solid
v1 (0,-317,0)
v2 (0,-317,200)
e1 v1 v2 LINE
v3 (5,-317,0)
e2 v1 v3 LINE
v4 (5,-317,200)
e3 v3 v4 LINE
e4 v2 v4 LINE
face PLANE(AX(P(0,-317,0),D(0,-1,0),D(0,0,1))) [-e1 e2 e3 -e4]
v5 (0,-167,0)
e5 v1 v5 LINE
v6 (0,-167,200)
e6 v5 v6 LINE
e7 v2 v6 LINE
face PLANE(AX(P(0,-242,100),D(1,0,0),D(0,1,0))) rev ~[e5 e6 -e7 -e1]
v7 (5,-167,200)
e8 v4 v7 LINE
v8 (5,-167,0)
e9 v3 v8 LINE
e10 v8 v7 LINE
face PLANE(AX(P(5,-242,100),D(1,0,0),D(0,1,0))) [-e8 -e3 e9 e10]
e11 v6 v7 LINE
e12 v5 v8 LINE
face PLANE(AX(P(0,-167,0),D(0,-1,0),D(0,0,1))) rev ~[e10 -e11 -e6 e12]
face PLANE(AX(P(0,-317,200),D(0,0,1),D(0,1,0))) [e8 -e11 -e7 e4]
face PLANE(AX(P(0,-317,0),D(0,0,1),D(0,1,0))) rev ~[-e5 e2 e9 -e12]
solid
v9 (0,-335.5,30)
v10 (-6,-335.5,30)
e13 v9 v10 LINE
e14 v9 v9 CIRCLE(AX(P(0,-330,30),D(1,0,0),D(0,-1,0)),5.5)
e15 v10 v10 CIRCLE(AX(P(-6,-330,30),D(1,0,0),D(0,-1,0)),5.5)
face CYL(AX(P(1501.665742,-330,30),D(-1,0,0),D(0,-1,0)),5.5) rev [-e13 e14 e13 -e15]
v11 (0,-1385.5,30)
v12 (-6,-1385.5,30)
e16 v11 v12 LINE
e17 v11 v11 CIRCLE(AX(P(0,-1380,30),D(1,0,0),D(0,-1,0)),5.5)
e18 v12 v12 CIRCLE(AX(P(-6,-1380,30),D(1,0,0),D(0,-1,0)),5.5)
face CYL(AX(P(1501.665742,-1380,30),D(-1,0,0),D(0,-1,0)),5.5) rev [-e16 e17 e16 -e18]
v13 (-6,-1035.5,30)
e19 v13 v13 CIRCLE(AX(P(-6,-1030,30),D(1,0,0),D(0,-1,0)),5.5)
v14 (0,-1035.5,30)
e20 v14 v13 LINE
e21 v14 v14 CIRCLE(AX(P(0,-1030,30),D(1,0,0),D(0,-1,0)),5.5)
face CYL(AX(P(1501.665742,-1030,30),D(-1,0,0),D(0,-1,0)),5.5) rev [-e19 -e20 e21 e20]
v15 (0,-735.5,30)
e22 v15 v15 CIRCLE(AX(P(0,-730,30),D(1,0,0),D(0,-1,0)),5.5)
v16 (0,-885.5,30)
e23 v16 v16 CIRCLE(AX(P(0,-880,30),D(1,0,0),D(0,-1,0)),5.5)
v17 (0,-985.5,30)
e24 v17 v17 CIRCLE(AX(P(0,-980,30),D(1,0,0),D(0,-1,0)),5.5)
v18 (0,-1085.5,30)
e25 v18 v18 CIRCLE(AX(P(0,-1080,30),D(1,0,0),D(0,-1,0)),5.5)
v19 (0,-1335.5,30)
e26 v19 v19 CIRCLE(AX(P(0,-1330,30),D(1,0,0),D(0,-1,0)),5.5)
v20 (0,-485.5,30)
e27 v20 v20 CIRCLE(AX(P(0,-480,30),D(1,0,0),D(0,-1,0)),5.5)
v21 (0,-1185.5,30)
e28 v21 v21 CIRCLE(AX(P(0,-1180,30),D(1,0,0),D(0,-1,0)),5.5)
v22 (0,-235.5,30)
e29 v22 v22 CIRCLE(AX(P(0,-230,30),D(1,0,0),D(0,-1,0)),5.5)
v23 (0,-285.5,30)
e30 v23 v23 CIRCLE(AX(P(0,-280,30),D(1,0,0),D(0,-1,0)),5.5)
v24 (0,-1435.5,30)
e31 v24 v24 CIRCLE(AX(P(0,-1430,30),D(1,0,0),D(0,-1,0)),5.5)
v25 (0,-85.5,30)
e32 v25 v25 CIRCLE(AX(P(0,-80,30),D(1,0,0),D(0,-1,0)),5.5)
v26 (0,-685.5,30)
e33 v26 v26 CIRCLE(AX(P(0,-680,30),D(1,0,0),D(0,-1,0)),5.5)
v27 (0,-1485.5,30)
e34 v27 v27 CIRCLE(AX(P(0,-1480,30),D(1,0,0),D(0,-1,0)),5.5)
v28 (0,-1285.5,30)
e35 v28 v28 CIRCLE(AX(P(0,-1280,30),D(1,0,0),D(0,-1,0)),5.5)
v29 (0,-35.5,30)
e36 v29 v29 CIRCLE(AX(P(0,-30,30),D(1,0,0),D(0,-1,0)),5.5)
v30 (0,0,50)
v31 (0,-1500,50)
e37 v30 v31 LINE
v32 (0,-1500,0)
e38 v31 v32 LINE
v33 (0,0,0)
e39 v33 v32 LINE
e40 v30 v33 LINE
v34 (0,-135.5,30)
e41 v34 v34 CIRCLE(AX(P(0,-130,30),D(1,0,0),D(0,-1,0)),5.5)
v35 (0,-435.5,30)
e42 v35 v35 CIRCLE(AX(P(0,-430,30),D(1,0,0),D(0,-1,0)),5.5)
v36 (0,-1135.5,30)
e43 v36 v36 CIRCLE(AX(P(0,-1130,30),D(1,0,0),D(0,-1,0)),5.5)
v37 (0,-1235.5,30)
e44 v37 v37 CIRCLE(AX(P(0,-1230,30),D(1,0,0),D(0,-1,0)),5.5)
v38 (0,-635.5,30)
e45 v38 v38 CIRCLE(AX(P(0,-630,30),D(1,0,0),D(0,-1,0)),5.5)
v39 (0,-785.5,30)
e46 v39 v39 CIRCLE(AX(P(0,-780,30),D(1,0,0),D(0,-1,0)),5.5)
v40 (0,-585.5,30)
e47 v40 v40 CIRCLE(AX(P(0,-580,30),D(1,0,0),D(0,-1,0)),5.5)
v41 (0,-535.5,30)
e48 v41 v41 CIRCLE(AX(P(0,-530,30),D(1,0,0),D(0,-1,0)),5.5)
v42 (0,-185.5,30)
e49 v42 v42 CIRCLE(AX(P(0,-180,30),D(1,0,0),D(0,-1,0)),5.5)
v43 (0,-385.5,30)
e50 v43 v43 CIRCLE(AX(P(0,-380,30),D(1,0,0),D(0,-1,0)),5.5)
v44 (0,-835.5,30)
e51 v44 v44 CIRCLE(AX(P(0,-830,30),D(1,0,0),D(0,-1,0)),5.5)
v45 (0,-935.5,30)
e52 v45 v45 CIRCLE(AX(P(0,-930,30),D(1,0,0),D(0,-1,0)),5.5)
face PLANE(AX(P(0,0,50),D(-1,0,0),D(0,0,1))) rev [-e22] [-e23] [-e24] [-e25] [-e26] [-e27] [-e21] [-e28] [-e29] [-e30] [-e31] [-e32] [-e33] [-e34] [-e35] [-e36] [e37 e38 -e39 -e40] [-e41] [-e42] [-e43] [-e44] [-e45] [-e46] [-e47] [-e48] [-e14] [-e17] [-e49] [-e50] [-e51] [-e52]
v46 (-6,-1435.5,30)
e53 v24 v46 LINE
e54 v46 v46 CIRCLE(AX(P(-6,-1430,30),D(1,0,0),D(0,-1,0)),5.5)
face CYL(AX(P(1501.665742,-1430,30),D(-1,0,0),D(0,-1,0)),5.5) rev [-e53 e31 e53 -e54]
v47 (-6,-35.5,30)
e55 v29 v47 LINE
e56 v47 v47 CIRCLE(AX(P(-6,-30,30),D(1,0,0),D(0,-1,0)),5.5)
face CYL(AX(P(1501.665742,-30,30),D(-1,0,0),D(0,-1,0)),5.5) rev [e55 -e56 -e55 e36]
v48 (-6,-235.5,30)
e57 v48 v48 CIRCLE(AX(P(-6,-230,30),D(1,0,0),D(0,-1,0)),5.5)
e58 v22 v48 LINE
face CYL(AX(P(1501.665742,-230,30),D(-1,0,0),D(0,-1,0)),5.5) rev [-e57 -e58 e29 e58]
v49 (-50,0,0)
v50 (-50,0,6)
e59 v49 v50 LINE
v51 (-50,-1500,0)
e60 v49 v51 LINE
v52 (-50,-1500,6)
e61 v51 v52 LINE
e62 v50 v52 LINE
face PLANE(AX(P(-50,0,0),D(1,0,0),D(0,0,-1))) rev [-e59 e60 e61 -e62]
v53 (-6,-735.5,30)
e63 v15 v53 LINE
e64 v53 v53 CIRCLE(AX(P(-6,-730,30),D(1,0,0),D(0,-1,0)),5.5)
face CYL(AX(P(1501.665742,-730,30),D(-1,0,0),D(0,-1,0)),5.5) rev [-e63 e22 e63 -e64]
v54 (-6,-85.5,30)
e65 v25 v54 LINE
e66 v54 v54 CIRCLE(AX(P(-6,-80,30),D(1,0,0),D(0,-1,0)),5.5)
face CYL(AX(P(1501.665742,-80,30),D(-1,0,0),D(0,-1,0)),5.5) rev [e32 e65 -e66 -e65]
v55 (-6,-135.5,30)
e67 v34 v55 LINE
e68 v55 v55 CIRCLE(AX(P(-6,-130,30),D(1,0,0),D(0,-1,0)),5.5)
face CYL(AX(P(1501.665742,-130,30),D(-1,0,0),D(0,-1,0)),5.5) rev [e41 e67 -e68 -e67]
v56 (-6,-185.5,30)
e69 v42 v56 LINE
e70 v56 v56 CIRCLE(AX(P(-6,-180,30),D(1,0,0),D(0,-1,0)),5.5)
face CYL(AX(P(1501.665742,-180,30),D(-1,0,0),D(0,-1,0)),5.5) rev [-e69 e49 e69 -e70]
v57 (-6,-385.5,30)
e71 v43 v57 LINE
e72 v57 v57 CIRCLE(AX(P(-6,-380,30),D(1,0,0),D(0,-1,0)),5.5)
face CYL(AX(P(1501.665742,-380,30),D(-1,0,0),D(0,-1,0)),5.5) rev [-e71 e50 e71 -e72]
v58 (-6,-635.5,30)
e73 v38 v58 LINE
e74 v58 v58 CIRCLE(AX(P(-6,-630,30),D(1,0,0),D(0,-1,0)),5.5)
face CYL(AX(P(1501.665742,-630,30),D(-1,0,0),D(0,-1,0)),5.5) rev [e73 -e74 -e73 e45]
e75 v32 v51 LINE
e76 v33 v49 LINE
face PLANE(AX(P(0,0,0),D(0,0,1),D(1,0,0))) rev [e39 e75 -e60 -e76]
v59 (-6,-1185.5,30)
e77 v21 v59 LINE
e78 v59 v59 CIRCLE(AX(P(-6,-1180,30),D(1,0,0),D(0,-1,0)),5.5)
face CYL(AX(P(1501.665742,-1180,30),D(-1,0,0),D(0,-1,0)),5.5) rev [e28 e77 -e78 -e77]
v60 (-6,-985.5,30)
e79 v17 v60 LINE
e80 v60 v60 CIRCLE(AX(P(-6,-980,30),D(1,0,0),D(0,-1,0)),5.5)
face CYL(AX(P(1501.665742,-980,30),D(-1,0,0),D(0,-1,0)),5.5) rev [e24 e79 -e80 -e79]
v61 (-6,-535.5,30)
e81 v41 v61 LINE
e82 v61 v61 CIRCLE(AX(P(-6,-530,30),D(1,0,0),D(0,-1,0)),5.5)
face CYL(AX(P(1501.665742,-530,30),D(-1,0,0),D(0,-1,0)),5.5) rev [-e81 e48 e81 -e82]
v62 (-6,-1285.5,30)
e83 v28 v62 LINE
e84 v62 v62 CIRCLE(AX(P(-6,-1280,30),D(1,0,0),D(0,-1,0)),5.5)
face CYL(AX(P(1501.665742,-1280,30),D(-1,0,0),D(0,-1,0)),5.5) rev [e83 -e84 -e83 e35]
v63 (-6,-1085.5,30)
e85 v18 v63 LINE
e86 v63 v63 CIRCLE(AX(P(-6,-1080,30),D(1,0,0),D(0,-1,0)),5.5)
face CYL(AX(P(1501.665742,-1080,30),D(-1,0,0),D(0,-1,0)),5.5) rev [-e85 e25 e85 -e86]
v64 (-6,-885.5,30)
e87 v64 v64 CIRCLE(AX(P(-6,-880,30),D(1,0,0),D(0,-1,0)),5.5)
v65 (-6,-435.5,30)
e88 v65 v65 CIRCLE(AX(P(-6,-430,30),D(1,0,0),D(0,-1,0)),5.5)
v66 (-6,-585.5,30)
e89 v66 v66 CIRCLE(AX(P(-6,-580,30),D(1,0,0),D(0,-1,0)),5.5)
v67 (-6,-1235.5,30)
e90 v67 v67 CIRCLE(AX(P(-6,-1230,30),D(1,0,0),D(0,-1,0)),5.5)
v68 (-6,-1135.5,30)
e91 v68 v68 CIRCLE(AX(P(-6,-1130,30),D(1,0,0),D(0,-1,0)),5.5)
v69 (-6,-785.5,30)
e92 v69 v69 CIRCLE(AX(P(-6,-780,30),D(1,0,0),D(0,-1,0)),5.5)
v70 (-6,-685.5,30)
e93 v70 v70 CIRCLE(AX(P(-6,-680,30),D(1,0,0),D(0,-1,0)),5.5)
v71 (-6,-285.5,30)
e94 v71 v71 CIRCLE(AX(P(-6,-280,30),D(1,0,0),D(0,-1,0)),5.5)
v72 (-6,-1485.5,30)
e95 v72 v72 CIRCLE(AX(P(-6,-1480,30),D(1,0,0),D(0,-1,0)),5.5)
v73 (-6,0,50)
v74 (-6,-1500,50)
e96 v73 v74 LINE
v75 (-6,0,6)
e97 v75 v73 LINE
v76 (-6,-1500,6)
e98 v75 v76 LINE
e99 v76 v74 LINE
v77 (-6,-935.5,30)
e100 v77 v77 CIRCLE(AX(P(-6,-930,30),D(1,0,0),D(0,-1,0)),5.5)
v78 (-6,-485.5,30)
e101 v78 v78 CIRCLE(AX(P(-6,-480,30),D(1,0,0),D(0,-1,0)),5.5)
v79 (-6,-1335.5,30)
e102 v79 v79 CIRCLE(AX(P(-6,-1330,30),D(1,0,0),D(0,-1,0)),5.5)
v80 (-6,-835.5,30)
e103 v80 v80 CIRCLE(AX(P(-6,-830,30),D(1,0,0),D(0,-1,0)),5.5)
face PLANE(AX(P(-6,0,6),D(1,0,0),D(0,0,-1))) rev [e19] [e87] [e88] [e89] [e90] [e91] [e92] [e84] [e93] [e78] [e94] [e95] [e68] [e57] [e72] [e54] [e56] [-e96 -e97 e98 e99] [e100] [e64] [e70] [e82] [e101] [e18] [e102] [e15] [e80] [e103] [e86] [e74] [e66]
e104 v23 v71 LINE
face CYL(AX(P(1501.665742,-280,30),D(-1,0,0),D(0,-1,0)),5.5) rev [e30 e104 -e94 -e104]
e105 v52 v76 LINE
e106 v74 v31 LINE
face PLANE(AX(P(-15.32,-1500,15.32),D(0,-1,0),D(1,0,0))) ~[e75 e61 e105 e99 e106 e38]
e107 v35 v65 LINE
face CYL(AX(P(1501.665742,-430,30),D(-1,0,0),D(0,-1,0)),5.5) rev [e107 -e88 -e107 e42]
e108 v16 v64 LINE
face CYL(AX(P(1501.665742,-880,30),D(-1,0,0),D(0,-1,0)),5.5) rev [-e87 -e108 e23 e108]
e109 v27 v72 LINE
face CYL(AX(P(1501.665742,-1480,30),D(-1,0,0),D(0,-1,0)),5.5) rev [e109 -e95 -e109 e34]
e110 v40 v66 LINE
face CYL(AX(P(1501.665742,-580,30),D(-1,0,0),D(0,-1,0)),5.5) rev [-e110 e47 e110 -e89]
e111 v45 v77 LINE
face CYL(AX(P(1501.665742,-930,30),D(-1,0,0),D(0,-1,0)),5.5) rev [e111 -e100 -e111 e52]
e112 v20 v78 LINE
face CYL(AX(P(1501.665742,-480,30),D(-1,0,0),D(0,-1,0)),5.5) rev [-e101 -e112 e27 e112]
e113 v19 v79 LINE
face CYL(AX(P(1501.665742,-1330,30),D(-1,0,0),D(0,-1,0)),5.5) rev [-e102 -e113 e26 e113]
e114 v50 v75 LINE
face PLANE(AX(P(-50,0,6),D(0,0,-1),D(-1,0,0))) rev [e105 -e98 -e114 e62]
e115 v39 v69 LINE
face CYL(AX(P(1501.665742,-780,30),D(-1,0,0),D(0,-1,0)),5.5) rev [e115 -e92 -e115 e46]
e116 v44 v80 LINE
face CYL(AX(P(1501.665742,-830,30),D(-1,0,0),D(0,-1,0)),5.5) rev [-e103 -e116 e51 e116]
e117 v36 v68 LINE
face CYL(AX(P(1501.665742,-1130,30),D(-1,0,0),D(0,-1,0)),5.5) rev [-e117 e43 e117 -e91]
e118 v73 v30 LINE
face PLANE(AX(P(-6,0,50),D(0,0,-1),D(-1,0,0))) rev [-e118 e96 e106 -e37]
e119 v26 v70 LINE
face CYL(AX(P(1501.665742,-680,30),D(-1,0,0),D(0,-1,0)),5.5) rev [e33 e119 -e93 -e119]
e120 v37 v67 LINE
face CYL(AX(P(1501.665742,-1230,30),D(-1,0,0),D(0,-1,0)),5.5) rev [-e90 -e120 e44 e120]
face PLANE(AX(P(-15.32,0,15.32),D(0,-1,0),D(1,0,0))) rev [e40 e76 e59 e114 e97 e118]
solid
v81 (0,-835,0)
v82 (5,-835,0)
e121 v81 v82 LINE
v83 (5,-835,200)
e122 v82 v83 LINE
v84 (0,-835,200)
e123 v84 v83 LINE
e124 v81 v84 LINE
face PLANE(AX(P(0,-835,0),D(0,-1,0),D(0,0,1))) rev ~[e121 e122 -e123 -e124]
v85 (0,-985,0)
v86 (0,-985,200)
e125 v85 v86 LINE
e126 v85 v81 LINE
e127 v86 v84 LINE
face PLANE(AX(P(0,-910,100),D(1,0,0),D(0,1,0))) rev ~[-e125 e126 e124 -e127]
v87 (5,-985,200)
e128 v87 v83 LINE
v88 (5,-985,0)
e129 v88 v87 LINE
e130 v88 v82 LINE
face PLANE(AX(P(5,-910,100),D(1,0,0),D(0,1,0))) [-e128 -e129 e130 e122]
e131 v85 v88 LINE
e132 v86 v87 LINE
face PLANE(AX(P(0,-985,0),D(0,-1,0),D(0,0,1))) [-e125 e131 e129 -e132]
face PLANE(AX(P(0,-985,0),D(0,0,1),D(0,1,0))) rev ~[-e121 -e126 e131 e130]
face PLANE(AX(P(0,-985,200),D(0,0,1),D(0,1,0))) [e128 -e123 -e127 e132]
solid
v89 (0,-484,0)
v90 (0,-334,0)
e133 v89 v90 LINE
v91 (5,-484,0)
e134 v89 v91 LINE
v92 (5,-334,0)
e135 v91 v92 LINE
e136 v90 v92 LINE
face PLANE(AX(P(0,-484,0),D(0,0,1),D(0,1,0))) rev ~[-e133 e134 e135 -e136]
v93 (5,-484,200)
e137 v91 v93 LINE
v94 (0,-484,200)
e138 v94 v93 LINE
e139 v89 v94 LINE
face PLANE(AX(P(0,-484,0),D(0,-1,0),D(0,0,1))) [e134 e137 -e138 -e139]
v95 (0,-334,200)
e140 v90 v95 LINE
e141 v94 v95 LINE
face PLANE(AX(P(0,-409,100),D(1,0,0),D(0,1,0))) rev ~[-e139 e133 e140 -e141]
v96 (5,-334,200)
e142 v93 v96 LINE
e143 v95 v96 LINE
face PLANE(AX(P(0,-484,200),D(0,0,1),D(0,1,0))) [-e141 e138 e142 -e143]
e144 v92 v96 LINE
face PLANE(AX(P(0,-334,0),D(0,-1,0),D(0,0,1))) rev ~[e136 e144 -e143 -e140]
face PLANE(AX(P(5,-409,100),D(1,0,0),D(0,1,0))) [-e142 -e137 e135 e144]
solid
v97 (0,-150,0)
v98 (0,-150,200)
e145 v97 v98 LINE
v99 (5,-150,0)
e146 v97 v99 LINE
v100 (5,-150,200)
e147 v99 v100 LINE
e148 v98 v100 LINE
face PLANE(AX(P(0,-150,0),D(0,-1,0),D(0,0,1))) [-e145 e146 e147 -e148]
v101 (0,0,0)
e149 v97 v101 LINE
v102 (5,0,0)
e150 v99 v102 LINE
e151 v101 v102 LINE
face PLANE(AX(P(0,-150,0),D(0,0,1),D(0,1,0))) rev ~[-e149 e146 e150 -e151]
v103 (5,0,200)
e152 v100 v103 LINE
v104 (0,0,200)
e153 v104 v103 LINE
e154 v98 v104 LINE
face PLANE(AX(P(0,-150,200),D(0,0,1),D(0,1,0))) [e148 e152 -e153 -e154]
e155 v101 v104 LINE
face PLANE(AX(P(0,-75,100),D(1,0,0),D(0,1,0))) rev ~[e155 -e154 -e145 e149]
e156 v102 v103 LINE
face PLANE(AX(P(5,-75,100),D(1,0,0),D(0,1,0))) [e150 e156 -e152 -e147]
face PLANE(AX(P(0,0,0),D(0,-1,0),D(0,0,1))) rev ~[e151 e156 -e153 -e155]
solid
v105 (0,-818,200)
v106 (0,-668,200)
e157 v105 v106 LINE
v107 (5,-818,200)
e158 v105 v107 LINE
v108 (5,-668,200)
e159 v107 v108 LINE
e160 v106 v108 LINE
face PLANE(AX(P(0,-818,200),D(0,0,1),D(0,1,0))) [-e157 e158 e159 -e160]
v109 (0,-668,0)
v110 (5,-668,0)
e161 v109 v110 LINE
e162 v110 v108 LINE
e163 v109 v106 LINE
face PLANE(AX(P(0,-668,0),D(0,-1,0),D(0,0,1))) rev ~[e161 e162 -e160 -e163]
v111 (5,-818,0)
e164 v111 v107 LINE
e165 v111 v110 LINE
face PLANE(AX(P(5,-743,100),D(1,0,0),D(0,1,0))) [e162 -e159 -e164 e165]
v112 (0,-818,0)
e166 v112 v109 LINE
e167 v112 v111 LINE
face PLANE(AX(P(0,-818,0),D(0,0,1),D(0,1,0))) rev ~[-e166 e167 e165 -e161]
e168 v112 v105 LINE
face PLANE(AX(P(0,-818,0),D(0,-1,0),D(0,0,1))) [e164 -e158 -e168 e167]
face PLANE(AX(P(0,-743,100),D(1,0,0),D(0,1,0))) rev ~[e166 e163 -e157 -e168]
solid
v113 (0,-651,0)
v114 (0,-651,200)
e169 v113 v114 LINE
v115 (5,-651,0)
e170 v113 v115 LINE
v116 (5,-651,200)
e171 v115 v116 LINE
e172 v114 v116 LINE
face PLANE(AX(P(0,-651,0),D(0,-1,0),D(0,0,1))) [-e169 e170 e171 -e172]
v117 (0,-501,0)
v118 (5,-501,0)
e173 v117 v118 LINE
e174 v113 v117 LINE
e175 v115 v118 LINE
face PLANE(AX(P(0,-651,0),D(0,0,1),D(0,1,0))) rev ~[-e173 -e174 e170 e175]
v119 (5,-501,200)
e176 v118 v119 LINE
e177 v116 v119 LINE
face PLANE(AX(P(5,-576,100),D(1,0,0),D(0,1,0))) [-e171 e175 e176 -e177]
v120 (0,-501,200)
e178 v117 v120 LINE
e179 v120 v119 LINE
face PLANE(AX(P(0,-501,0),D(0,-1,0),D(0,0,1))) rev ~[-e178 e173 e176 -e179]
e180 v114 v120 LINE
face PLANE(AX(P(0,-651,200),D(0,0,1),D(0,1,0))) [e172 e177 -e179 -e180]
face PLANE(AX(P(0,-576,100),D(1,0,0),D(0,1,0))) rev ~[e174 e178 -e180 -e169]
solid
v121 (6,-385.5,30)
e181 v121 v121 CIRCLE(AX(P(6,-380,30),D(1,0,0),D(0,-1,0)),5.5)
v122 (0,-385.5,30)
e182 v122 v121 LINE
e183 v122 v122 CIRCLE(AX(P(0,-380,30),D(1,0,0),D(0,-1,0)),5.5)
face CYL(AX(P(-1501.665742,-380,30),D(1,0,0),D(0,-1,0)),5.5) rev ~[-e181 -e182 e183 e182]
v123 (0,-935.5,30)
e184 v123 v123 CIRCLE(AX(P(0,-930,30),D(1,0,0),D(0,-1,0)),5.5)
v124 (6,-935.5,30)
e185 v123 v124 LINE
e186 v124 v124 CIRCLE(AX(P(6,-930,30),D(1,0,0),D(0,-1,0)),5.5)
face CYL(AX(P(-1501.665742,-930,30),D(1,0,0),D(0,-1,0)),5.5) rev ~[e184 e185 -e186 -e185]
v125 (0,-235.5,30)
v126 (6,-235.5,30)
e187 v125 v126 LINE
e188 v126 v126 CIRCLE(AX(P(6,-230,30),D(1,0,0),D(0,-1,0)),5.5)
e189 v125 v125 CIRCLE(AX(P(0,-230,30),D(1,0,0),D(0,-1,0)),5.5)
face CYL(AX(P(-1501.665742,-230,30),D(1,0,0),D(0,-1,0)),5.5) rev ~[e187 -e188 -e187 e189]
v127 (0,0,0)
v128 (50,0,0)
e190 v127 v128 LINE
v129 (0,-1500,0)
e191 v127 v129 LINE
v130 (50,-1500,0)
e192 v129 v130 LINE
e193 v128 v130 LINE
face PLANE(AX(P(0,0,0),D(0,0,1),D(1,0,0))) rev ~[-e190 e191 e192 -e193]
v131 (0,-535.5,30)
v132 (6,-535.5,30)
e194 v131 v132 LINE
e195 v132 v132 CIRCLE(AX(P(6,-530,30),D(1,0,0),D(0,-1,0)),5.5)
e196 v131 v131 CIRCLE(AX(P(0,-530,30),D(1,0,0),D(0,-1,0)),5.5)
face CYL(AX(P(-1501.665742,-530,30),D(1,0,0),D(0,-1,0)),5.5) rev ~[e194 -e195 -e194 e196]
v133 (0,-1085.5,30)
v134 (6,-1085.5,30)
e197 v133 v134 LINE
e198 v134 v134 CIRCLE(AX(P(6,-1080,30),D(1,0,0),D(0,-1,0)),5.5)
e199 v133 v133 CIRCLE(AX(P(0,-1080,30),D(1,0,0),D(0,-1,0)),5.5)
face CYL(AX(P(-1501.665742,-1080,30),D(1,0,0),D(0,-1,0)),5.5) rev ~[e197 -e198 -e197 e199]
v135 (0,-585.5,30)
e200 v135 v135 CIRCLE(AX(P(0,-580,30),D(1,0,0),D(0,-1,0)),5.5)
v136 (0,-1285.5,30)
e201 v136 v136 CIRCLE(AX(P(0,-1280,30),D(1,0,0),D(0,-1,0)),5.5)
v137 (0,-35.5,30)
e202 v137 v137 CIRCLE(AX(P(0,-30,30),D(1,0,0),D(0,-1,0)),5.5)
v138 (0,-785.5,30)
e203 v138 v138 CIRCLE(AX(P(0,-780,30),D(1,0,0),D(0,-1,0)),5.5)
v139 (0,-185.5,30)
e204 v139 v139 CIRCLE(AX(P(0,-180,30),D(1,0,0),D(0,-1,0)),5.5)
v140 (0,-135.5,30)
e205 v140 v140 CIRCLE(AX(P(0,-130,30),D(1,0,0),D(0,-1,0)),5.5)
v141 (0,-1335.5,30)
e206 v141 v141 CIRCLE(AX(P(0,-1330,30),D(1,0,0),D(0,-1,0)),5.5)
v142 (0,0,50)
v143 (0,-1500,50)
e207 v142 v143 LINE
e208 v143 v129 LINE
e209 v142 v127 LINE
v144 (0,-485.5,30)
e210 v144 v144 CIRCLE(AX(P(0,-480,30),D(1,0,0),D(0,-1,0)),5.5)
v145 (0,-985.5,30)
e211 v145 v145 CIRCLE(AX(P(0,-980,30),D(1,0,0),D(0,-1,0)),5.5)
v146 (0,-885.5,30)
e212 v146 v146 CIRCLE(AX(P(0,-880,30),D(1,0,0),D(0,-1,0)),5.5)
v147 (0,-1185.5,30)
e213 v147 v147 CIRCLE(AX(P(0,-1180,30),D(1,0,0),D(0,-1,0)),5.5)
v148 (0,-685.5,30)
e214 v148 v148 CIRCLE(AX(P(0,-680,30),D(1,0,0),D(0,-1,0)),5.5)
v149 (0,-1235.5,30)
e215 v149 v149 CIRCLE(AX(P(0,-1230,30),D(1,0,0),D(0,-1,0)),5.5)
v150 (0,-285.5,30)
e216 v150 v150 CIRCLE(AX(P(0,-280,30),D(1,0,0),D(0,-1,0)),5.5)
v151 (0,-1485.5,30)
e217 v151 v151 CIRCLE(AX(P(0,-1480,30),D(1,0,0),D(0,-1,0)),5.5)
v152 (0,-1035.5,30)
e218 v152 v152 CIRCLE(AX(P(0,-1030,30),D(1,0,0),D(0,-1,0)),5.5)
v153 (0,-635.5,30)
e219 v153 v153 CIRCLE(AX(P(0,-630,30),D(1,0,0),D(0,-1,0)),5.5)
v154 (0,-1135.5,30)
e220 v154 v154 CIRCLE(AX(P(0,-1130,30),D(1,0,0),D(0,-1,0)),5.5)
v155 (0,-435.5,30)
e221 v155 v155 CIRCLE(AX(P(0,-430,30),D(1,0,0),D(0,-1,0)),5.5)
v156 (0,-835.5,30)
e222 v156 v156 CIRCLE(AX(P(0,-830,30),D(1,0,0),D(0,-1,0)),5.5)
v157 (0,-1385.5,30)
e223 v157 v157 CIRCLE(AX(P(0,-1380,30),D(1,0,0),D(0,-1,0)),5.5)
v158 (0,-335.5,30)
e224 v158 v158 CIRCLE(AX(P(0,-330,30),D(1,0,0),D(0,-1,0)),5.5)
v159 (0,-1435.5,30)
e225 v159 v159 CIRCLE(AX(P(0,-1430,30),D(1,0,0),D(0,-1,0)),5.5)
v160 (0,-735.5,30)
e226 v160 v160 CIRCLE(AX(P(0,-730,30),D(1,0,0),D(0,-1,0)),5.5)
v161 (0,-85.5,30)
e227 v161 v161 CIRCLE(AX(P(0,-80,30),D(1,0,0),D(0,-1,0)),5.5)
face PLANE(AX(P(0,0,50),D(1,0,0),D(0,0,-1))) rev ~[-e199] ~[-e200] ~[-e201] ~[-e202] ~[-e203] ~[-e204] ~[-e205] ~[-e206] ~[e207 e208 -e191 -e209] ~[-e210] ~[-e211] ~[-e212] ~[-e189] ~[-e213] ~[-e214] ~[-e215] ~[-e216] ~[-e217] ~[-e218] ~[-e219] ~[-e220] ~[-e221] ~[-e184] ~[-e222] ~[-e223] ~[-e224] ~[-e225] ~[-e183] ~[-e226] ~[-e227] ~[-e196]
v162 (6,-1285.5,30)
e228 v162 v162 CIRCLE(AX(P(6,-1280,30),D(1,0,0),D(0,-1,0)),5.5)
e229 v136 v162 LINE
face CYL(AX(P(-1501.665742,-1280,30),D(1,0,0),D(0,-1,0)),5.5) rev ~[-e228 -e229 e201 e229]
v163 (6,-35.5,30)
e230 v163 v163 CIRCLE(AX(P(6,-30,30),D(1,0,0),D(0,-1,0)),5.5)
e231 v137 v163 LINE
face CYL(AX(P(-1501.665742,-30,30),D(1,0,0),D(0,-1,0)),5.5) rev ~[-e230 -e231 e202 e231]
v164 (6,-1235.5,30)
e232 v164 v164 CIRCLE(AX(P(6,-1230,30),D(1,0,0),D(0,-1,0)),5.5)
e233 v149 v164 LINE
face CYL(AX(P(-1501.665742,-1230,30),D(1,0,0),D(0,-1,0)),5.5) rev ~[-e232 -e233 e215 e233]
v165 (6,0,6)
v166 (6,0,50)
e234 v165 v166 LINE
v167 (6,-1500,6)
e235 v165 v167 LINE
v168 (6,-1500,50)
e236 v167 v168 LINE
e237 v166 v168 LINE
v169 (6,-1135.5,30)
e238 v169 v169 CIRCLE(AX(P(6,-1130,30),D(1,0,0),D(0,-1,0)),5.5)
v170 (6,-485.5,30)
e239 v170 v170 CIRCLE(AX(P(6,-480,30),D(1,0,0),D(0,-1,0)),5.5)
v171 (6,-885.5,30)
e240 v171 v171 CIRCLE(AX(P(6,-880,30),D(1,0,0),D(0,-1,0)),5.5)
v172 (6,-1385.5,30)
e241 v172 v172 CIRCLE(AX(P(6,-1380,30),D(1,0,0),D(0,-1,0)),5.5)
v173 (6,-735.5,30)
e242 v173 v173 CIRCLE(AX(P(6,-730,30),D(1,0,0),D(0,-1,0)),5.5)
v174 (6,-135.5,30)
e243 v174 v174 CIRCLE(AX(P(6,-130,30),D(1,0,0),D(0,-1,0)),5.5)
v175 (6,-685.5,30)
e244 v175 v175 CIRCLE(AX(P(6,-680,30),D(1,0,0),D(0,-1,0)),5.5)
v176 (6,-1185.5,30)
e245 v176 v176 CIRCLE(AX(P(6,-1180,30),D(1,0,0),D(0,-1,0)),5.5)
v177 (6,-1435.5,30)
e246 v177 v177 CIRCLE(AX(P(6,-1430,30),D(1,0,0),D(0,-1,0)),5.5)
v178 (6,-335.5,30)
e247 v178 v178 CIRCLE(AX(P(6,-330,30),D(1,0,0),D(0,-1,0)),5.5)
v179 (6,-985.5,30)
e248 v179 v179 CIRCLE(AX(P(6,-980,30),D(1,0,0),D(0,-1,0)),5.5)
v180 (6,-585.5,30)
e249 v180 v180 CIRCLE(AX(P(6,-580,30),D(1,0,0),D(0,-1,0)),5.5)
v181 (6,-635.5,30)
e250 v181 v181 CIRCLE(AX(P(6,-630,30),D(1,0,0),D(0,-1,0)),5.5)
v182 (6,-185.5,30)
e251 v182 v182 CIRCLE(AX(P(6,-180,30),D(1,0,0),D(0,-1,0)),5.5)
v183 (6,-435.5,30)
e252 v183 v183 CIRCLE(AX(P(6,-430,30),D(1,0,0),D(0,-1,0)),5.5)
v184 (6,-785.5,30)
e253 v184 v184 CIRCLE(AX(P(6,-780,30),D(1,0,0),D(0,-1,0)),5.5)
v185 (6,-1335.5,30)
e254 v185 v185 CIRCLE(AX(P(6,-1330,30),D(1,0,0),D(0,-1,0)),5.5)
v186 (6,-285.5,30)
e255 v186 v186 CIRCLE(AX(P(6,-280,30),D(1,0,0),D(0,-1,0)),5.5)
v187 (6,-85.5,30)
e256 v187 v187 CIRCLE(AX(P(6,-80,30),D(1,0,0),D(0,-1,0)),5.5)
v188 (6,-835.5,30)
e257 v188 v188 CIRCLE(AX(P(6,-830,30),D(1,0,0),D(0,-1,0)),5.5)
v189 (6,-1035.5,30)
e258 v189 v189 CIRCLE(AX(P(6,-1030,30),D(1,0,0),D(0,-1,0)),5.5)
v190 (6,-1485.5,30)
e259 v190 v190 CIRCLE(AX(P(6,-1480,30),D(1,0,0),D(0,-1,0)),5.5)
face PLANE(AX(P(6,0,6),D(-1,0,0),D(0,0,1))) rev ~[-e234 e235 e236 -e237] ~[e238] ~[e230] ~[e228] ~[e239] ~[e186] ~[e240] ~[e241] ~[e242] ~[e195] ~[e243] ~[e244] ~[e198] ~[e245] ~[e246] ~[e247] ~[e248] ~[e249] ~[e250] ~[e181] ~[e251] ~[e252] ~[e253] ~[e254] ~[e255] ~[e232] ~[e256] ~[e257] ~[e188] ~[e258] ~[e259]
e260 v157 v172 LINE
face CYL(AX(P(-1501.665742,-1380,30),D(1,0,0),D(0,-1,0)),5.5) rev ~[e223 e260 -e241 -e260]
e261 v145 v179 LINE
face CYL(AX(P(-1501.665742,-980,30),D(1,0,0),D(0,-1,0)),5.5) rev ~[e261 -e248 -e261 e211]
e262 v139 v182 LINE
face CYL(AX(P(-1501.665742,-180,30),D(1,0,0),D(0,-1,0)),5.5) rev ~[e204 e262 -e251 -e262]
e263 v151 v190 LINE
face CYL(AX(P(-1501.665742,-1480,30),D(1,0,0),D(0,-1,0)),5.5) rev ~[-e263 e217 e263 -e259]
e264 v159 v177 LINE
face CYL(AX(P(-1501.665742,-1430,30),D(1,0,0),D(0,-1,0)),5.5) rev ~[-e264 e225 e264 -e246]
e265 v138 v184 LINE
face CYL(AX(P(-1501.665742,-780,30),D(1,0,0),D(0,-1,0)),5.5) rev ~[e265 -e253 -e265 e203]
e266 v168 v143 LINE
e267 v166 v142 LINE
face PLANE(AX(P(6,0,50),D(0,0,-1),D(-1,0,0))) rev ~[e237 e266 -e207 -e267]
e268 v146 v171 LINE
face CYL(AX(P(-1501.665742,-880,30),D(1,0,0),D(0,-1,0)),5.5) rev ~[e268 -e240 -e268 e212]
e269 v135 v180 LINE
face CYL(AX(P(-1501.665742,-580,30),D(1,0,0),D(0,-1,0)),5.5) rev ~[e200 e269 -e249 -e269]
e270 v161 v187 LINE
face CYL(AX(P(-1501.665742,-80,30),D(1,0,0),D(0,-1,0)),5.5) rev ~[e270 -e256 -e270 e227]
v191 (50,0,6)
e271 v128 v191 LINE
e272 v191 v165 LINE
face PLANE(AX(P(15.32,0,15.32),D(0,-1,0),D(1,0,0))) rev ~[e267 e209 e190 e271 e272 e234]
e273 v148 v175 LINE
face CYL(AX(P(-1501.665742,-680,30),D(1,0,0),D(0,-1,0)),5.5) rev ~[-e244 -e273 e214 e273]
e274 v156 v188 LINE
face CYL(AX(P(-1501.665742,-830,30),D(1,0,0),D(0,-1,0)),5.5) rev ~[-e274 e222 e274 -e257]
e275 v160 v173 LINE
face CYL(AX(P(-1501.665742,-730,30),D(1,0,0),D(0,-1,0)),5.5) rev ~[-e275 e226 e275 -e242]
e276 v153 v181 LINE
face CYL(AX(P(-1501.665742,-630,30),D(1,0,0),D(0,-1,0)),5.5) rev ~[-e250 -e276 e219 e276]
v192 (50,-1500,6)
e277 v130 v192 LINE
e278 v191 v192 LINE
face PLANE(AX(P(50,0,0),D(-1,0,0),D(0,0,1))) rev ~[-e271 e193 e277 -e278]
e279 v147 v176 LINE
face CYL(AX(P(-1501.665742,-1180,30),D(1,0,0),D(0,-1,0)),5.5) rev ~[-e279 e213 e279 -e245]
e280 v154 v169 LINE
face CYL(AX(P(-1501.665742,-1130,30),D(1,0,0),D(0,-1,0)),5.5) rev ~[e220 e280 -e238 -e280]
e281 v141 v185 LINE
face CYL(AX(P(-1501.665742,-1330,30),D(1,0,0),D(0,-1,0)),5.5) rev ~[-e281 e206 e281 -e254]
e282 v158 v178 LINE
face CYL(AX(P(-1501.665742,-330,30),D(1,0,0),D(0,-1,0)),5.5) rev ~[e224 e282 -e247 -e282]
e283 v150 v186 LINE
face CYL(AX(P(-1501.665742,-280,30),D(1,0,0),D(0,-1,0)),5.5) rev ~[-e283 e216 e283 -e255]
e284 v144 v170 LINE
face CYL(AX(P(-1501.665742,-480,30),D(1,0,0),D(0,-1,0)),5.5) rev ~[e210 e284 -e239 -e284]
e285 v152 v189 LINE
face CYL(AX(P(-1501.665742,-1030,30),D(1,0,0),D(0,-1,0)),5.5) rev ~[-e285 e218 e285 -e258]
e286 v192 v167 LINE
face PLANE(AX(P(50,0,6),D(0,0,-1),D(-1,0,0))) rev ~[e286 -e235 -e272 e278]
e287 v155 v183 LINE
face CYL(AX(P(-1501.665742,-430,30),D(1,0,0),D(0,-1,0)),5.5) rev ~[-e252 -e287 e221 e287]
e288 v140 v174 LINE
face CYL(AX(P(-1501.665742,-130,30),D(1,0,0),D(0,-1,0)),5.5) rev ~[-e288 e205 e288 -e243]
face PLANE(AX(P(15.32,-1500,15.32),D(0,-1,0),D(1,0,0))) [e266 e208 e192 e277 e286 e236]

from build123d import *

# Parameters (mm, degrees)
F1_DEPTH = 1500
F3_D     = 11
F5_W     = 150
F5_H     = 200
F6_DEPTH = 5


with BuildPart() as f1:
    # F0 (on Front) → F1 (new body)
    with BuildSketch(Plane.XZ):
        Polygon((0, 50), (0, 0), (50, 0), (50, 6), (6, 6), (6, 50), align=None)
    extrude(amount=F1_DEPTH)

    # F3 (through all)
    with Locations(Plane(origin=(0, 0, 0), x_dir=(0, 1, 0), z_dir=(-1, 0, 0))):
        with Locations((-30, -30), (-80, -30), (-130, -30), (-180, -30), (-230, -30), (-280, -30), (-330, -30), (-380, -30), (-430, -30), (-480, -30), (-530, -30), (-580, -30), (-630, -30), (-680, -30), (-730, -30), (-780, -30), (-830, -30), (-880, -30), (-930, -30), (-980, -30), (-1030, -30), (-1080, -30), (-1130, -30), (-1180, -30), (-1230, -30), (-1280, -30), (-1330, -30), (-1380, -30), (-1430, -30), (-1480, -30)):
            Hole(F3_D / 2)


with BuildPart() as f4_1:
    # F4: instance of F1
    add(f1.part.mirror(Plane.YZ))


with BuildPart() as f6:
    # F5 (on Right) → F6 (new body)
    with BuildSketch(Plane.YZ):
        with Locations((-75, 100)):
            Rectangle(F5_W, F5_H)
    extrude(amount=F6_DEPTH)


with BuildPart() as f6b:
    # F5 (on Right) → F6, piece 2 (new body)
    with BuildSketch(Plane.YZ):
        with Locations((-242, 100)):
            Rectangle(F5_W, F5_H)
    extrude(amount=F6_DEPTH)


with BuildPart() as f6c:
    # F5 (on Right) → F6, piece 3 (new body)
    with BuildSketch(Plane.YZ):
        with Locations((-409, 100)):
            Rectangle(F5_W, F5_H)
    extrude(amount=F6_DEPTH)


with BuildPart() as f6d:
    # F5 (on Right) → F6, piece 4 (new body)
    with BuildSketch(Plane.YZ):
        with Locations((-576, 100)):
            Rectangle(F5_W, F5_H)
    extrude(amount=F6_DEPTH)


with BuildPart() as f6e:
    # F5 (on Right) → F6, piece 5 (new body)
    with BuildSketch(Plane.YZ):
        with Locations((-743, 100)):
            Rectangle(F5_W, F5_H)
    extrude(amount=F6_DEPTH)


with BuildPart() as f6f:
    # F5 (on Right) → F6, piece 6 (new body)
    with BuildSketch(Plane.YZ):
        with Locations((-910, 100)):
            Rectangle(F5_W, F5_H)
    extrude(amount=F6_DEPTH)


solid = Compound([f1.part, f4_1.part, f6.part, f6b.part, f6c.part, f6d.part, f6e.part, f6f.part])
